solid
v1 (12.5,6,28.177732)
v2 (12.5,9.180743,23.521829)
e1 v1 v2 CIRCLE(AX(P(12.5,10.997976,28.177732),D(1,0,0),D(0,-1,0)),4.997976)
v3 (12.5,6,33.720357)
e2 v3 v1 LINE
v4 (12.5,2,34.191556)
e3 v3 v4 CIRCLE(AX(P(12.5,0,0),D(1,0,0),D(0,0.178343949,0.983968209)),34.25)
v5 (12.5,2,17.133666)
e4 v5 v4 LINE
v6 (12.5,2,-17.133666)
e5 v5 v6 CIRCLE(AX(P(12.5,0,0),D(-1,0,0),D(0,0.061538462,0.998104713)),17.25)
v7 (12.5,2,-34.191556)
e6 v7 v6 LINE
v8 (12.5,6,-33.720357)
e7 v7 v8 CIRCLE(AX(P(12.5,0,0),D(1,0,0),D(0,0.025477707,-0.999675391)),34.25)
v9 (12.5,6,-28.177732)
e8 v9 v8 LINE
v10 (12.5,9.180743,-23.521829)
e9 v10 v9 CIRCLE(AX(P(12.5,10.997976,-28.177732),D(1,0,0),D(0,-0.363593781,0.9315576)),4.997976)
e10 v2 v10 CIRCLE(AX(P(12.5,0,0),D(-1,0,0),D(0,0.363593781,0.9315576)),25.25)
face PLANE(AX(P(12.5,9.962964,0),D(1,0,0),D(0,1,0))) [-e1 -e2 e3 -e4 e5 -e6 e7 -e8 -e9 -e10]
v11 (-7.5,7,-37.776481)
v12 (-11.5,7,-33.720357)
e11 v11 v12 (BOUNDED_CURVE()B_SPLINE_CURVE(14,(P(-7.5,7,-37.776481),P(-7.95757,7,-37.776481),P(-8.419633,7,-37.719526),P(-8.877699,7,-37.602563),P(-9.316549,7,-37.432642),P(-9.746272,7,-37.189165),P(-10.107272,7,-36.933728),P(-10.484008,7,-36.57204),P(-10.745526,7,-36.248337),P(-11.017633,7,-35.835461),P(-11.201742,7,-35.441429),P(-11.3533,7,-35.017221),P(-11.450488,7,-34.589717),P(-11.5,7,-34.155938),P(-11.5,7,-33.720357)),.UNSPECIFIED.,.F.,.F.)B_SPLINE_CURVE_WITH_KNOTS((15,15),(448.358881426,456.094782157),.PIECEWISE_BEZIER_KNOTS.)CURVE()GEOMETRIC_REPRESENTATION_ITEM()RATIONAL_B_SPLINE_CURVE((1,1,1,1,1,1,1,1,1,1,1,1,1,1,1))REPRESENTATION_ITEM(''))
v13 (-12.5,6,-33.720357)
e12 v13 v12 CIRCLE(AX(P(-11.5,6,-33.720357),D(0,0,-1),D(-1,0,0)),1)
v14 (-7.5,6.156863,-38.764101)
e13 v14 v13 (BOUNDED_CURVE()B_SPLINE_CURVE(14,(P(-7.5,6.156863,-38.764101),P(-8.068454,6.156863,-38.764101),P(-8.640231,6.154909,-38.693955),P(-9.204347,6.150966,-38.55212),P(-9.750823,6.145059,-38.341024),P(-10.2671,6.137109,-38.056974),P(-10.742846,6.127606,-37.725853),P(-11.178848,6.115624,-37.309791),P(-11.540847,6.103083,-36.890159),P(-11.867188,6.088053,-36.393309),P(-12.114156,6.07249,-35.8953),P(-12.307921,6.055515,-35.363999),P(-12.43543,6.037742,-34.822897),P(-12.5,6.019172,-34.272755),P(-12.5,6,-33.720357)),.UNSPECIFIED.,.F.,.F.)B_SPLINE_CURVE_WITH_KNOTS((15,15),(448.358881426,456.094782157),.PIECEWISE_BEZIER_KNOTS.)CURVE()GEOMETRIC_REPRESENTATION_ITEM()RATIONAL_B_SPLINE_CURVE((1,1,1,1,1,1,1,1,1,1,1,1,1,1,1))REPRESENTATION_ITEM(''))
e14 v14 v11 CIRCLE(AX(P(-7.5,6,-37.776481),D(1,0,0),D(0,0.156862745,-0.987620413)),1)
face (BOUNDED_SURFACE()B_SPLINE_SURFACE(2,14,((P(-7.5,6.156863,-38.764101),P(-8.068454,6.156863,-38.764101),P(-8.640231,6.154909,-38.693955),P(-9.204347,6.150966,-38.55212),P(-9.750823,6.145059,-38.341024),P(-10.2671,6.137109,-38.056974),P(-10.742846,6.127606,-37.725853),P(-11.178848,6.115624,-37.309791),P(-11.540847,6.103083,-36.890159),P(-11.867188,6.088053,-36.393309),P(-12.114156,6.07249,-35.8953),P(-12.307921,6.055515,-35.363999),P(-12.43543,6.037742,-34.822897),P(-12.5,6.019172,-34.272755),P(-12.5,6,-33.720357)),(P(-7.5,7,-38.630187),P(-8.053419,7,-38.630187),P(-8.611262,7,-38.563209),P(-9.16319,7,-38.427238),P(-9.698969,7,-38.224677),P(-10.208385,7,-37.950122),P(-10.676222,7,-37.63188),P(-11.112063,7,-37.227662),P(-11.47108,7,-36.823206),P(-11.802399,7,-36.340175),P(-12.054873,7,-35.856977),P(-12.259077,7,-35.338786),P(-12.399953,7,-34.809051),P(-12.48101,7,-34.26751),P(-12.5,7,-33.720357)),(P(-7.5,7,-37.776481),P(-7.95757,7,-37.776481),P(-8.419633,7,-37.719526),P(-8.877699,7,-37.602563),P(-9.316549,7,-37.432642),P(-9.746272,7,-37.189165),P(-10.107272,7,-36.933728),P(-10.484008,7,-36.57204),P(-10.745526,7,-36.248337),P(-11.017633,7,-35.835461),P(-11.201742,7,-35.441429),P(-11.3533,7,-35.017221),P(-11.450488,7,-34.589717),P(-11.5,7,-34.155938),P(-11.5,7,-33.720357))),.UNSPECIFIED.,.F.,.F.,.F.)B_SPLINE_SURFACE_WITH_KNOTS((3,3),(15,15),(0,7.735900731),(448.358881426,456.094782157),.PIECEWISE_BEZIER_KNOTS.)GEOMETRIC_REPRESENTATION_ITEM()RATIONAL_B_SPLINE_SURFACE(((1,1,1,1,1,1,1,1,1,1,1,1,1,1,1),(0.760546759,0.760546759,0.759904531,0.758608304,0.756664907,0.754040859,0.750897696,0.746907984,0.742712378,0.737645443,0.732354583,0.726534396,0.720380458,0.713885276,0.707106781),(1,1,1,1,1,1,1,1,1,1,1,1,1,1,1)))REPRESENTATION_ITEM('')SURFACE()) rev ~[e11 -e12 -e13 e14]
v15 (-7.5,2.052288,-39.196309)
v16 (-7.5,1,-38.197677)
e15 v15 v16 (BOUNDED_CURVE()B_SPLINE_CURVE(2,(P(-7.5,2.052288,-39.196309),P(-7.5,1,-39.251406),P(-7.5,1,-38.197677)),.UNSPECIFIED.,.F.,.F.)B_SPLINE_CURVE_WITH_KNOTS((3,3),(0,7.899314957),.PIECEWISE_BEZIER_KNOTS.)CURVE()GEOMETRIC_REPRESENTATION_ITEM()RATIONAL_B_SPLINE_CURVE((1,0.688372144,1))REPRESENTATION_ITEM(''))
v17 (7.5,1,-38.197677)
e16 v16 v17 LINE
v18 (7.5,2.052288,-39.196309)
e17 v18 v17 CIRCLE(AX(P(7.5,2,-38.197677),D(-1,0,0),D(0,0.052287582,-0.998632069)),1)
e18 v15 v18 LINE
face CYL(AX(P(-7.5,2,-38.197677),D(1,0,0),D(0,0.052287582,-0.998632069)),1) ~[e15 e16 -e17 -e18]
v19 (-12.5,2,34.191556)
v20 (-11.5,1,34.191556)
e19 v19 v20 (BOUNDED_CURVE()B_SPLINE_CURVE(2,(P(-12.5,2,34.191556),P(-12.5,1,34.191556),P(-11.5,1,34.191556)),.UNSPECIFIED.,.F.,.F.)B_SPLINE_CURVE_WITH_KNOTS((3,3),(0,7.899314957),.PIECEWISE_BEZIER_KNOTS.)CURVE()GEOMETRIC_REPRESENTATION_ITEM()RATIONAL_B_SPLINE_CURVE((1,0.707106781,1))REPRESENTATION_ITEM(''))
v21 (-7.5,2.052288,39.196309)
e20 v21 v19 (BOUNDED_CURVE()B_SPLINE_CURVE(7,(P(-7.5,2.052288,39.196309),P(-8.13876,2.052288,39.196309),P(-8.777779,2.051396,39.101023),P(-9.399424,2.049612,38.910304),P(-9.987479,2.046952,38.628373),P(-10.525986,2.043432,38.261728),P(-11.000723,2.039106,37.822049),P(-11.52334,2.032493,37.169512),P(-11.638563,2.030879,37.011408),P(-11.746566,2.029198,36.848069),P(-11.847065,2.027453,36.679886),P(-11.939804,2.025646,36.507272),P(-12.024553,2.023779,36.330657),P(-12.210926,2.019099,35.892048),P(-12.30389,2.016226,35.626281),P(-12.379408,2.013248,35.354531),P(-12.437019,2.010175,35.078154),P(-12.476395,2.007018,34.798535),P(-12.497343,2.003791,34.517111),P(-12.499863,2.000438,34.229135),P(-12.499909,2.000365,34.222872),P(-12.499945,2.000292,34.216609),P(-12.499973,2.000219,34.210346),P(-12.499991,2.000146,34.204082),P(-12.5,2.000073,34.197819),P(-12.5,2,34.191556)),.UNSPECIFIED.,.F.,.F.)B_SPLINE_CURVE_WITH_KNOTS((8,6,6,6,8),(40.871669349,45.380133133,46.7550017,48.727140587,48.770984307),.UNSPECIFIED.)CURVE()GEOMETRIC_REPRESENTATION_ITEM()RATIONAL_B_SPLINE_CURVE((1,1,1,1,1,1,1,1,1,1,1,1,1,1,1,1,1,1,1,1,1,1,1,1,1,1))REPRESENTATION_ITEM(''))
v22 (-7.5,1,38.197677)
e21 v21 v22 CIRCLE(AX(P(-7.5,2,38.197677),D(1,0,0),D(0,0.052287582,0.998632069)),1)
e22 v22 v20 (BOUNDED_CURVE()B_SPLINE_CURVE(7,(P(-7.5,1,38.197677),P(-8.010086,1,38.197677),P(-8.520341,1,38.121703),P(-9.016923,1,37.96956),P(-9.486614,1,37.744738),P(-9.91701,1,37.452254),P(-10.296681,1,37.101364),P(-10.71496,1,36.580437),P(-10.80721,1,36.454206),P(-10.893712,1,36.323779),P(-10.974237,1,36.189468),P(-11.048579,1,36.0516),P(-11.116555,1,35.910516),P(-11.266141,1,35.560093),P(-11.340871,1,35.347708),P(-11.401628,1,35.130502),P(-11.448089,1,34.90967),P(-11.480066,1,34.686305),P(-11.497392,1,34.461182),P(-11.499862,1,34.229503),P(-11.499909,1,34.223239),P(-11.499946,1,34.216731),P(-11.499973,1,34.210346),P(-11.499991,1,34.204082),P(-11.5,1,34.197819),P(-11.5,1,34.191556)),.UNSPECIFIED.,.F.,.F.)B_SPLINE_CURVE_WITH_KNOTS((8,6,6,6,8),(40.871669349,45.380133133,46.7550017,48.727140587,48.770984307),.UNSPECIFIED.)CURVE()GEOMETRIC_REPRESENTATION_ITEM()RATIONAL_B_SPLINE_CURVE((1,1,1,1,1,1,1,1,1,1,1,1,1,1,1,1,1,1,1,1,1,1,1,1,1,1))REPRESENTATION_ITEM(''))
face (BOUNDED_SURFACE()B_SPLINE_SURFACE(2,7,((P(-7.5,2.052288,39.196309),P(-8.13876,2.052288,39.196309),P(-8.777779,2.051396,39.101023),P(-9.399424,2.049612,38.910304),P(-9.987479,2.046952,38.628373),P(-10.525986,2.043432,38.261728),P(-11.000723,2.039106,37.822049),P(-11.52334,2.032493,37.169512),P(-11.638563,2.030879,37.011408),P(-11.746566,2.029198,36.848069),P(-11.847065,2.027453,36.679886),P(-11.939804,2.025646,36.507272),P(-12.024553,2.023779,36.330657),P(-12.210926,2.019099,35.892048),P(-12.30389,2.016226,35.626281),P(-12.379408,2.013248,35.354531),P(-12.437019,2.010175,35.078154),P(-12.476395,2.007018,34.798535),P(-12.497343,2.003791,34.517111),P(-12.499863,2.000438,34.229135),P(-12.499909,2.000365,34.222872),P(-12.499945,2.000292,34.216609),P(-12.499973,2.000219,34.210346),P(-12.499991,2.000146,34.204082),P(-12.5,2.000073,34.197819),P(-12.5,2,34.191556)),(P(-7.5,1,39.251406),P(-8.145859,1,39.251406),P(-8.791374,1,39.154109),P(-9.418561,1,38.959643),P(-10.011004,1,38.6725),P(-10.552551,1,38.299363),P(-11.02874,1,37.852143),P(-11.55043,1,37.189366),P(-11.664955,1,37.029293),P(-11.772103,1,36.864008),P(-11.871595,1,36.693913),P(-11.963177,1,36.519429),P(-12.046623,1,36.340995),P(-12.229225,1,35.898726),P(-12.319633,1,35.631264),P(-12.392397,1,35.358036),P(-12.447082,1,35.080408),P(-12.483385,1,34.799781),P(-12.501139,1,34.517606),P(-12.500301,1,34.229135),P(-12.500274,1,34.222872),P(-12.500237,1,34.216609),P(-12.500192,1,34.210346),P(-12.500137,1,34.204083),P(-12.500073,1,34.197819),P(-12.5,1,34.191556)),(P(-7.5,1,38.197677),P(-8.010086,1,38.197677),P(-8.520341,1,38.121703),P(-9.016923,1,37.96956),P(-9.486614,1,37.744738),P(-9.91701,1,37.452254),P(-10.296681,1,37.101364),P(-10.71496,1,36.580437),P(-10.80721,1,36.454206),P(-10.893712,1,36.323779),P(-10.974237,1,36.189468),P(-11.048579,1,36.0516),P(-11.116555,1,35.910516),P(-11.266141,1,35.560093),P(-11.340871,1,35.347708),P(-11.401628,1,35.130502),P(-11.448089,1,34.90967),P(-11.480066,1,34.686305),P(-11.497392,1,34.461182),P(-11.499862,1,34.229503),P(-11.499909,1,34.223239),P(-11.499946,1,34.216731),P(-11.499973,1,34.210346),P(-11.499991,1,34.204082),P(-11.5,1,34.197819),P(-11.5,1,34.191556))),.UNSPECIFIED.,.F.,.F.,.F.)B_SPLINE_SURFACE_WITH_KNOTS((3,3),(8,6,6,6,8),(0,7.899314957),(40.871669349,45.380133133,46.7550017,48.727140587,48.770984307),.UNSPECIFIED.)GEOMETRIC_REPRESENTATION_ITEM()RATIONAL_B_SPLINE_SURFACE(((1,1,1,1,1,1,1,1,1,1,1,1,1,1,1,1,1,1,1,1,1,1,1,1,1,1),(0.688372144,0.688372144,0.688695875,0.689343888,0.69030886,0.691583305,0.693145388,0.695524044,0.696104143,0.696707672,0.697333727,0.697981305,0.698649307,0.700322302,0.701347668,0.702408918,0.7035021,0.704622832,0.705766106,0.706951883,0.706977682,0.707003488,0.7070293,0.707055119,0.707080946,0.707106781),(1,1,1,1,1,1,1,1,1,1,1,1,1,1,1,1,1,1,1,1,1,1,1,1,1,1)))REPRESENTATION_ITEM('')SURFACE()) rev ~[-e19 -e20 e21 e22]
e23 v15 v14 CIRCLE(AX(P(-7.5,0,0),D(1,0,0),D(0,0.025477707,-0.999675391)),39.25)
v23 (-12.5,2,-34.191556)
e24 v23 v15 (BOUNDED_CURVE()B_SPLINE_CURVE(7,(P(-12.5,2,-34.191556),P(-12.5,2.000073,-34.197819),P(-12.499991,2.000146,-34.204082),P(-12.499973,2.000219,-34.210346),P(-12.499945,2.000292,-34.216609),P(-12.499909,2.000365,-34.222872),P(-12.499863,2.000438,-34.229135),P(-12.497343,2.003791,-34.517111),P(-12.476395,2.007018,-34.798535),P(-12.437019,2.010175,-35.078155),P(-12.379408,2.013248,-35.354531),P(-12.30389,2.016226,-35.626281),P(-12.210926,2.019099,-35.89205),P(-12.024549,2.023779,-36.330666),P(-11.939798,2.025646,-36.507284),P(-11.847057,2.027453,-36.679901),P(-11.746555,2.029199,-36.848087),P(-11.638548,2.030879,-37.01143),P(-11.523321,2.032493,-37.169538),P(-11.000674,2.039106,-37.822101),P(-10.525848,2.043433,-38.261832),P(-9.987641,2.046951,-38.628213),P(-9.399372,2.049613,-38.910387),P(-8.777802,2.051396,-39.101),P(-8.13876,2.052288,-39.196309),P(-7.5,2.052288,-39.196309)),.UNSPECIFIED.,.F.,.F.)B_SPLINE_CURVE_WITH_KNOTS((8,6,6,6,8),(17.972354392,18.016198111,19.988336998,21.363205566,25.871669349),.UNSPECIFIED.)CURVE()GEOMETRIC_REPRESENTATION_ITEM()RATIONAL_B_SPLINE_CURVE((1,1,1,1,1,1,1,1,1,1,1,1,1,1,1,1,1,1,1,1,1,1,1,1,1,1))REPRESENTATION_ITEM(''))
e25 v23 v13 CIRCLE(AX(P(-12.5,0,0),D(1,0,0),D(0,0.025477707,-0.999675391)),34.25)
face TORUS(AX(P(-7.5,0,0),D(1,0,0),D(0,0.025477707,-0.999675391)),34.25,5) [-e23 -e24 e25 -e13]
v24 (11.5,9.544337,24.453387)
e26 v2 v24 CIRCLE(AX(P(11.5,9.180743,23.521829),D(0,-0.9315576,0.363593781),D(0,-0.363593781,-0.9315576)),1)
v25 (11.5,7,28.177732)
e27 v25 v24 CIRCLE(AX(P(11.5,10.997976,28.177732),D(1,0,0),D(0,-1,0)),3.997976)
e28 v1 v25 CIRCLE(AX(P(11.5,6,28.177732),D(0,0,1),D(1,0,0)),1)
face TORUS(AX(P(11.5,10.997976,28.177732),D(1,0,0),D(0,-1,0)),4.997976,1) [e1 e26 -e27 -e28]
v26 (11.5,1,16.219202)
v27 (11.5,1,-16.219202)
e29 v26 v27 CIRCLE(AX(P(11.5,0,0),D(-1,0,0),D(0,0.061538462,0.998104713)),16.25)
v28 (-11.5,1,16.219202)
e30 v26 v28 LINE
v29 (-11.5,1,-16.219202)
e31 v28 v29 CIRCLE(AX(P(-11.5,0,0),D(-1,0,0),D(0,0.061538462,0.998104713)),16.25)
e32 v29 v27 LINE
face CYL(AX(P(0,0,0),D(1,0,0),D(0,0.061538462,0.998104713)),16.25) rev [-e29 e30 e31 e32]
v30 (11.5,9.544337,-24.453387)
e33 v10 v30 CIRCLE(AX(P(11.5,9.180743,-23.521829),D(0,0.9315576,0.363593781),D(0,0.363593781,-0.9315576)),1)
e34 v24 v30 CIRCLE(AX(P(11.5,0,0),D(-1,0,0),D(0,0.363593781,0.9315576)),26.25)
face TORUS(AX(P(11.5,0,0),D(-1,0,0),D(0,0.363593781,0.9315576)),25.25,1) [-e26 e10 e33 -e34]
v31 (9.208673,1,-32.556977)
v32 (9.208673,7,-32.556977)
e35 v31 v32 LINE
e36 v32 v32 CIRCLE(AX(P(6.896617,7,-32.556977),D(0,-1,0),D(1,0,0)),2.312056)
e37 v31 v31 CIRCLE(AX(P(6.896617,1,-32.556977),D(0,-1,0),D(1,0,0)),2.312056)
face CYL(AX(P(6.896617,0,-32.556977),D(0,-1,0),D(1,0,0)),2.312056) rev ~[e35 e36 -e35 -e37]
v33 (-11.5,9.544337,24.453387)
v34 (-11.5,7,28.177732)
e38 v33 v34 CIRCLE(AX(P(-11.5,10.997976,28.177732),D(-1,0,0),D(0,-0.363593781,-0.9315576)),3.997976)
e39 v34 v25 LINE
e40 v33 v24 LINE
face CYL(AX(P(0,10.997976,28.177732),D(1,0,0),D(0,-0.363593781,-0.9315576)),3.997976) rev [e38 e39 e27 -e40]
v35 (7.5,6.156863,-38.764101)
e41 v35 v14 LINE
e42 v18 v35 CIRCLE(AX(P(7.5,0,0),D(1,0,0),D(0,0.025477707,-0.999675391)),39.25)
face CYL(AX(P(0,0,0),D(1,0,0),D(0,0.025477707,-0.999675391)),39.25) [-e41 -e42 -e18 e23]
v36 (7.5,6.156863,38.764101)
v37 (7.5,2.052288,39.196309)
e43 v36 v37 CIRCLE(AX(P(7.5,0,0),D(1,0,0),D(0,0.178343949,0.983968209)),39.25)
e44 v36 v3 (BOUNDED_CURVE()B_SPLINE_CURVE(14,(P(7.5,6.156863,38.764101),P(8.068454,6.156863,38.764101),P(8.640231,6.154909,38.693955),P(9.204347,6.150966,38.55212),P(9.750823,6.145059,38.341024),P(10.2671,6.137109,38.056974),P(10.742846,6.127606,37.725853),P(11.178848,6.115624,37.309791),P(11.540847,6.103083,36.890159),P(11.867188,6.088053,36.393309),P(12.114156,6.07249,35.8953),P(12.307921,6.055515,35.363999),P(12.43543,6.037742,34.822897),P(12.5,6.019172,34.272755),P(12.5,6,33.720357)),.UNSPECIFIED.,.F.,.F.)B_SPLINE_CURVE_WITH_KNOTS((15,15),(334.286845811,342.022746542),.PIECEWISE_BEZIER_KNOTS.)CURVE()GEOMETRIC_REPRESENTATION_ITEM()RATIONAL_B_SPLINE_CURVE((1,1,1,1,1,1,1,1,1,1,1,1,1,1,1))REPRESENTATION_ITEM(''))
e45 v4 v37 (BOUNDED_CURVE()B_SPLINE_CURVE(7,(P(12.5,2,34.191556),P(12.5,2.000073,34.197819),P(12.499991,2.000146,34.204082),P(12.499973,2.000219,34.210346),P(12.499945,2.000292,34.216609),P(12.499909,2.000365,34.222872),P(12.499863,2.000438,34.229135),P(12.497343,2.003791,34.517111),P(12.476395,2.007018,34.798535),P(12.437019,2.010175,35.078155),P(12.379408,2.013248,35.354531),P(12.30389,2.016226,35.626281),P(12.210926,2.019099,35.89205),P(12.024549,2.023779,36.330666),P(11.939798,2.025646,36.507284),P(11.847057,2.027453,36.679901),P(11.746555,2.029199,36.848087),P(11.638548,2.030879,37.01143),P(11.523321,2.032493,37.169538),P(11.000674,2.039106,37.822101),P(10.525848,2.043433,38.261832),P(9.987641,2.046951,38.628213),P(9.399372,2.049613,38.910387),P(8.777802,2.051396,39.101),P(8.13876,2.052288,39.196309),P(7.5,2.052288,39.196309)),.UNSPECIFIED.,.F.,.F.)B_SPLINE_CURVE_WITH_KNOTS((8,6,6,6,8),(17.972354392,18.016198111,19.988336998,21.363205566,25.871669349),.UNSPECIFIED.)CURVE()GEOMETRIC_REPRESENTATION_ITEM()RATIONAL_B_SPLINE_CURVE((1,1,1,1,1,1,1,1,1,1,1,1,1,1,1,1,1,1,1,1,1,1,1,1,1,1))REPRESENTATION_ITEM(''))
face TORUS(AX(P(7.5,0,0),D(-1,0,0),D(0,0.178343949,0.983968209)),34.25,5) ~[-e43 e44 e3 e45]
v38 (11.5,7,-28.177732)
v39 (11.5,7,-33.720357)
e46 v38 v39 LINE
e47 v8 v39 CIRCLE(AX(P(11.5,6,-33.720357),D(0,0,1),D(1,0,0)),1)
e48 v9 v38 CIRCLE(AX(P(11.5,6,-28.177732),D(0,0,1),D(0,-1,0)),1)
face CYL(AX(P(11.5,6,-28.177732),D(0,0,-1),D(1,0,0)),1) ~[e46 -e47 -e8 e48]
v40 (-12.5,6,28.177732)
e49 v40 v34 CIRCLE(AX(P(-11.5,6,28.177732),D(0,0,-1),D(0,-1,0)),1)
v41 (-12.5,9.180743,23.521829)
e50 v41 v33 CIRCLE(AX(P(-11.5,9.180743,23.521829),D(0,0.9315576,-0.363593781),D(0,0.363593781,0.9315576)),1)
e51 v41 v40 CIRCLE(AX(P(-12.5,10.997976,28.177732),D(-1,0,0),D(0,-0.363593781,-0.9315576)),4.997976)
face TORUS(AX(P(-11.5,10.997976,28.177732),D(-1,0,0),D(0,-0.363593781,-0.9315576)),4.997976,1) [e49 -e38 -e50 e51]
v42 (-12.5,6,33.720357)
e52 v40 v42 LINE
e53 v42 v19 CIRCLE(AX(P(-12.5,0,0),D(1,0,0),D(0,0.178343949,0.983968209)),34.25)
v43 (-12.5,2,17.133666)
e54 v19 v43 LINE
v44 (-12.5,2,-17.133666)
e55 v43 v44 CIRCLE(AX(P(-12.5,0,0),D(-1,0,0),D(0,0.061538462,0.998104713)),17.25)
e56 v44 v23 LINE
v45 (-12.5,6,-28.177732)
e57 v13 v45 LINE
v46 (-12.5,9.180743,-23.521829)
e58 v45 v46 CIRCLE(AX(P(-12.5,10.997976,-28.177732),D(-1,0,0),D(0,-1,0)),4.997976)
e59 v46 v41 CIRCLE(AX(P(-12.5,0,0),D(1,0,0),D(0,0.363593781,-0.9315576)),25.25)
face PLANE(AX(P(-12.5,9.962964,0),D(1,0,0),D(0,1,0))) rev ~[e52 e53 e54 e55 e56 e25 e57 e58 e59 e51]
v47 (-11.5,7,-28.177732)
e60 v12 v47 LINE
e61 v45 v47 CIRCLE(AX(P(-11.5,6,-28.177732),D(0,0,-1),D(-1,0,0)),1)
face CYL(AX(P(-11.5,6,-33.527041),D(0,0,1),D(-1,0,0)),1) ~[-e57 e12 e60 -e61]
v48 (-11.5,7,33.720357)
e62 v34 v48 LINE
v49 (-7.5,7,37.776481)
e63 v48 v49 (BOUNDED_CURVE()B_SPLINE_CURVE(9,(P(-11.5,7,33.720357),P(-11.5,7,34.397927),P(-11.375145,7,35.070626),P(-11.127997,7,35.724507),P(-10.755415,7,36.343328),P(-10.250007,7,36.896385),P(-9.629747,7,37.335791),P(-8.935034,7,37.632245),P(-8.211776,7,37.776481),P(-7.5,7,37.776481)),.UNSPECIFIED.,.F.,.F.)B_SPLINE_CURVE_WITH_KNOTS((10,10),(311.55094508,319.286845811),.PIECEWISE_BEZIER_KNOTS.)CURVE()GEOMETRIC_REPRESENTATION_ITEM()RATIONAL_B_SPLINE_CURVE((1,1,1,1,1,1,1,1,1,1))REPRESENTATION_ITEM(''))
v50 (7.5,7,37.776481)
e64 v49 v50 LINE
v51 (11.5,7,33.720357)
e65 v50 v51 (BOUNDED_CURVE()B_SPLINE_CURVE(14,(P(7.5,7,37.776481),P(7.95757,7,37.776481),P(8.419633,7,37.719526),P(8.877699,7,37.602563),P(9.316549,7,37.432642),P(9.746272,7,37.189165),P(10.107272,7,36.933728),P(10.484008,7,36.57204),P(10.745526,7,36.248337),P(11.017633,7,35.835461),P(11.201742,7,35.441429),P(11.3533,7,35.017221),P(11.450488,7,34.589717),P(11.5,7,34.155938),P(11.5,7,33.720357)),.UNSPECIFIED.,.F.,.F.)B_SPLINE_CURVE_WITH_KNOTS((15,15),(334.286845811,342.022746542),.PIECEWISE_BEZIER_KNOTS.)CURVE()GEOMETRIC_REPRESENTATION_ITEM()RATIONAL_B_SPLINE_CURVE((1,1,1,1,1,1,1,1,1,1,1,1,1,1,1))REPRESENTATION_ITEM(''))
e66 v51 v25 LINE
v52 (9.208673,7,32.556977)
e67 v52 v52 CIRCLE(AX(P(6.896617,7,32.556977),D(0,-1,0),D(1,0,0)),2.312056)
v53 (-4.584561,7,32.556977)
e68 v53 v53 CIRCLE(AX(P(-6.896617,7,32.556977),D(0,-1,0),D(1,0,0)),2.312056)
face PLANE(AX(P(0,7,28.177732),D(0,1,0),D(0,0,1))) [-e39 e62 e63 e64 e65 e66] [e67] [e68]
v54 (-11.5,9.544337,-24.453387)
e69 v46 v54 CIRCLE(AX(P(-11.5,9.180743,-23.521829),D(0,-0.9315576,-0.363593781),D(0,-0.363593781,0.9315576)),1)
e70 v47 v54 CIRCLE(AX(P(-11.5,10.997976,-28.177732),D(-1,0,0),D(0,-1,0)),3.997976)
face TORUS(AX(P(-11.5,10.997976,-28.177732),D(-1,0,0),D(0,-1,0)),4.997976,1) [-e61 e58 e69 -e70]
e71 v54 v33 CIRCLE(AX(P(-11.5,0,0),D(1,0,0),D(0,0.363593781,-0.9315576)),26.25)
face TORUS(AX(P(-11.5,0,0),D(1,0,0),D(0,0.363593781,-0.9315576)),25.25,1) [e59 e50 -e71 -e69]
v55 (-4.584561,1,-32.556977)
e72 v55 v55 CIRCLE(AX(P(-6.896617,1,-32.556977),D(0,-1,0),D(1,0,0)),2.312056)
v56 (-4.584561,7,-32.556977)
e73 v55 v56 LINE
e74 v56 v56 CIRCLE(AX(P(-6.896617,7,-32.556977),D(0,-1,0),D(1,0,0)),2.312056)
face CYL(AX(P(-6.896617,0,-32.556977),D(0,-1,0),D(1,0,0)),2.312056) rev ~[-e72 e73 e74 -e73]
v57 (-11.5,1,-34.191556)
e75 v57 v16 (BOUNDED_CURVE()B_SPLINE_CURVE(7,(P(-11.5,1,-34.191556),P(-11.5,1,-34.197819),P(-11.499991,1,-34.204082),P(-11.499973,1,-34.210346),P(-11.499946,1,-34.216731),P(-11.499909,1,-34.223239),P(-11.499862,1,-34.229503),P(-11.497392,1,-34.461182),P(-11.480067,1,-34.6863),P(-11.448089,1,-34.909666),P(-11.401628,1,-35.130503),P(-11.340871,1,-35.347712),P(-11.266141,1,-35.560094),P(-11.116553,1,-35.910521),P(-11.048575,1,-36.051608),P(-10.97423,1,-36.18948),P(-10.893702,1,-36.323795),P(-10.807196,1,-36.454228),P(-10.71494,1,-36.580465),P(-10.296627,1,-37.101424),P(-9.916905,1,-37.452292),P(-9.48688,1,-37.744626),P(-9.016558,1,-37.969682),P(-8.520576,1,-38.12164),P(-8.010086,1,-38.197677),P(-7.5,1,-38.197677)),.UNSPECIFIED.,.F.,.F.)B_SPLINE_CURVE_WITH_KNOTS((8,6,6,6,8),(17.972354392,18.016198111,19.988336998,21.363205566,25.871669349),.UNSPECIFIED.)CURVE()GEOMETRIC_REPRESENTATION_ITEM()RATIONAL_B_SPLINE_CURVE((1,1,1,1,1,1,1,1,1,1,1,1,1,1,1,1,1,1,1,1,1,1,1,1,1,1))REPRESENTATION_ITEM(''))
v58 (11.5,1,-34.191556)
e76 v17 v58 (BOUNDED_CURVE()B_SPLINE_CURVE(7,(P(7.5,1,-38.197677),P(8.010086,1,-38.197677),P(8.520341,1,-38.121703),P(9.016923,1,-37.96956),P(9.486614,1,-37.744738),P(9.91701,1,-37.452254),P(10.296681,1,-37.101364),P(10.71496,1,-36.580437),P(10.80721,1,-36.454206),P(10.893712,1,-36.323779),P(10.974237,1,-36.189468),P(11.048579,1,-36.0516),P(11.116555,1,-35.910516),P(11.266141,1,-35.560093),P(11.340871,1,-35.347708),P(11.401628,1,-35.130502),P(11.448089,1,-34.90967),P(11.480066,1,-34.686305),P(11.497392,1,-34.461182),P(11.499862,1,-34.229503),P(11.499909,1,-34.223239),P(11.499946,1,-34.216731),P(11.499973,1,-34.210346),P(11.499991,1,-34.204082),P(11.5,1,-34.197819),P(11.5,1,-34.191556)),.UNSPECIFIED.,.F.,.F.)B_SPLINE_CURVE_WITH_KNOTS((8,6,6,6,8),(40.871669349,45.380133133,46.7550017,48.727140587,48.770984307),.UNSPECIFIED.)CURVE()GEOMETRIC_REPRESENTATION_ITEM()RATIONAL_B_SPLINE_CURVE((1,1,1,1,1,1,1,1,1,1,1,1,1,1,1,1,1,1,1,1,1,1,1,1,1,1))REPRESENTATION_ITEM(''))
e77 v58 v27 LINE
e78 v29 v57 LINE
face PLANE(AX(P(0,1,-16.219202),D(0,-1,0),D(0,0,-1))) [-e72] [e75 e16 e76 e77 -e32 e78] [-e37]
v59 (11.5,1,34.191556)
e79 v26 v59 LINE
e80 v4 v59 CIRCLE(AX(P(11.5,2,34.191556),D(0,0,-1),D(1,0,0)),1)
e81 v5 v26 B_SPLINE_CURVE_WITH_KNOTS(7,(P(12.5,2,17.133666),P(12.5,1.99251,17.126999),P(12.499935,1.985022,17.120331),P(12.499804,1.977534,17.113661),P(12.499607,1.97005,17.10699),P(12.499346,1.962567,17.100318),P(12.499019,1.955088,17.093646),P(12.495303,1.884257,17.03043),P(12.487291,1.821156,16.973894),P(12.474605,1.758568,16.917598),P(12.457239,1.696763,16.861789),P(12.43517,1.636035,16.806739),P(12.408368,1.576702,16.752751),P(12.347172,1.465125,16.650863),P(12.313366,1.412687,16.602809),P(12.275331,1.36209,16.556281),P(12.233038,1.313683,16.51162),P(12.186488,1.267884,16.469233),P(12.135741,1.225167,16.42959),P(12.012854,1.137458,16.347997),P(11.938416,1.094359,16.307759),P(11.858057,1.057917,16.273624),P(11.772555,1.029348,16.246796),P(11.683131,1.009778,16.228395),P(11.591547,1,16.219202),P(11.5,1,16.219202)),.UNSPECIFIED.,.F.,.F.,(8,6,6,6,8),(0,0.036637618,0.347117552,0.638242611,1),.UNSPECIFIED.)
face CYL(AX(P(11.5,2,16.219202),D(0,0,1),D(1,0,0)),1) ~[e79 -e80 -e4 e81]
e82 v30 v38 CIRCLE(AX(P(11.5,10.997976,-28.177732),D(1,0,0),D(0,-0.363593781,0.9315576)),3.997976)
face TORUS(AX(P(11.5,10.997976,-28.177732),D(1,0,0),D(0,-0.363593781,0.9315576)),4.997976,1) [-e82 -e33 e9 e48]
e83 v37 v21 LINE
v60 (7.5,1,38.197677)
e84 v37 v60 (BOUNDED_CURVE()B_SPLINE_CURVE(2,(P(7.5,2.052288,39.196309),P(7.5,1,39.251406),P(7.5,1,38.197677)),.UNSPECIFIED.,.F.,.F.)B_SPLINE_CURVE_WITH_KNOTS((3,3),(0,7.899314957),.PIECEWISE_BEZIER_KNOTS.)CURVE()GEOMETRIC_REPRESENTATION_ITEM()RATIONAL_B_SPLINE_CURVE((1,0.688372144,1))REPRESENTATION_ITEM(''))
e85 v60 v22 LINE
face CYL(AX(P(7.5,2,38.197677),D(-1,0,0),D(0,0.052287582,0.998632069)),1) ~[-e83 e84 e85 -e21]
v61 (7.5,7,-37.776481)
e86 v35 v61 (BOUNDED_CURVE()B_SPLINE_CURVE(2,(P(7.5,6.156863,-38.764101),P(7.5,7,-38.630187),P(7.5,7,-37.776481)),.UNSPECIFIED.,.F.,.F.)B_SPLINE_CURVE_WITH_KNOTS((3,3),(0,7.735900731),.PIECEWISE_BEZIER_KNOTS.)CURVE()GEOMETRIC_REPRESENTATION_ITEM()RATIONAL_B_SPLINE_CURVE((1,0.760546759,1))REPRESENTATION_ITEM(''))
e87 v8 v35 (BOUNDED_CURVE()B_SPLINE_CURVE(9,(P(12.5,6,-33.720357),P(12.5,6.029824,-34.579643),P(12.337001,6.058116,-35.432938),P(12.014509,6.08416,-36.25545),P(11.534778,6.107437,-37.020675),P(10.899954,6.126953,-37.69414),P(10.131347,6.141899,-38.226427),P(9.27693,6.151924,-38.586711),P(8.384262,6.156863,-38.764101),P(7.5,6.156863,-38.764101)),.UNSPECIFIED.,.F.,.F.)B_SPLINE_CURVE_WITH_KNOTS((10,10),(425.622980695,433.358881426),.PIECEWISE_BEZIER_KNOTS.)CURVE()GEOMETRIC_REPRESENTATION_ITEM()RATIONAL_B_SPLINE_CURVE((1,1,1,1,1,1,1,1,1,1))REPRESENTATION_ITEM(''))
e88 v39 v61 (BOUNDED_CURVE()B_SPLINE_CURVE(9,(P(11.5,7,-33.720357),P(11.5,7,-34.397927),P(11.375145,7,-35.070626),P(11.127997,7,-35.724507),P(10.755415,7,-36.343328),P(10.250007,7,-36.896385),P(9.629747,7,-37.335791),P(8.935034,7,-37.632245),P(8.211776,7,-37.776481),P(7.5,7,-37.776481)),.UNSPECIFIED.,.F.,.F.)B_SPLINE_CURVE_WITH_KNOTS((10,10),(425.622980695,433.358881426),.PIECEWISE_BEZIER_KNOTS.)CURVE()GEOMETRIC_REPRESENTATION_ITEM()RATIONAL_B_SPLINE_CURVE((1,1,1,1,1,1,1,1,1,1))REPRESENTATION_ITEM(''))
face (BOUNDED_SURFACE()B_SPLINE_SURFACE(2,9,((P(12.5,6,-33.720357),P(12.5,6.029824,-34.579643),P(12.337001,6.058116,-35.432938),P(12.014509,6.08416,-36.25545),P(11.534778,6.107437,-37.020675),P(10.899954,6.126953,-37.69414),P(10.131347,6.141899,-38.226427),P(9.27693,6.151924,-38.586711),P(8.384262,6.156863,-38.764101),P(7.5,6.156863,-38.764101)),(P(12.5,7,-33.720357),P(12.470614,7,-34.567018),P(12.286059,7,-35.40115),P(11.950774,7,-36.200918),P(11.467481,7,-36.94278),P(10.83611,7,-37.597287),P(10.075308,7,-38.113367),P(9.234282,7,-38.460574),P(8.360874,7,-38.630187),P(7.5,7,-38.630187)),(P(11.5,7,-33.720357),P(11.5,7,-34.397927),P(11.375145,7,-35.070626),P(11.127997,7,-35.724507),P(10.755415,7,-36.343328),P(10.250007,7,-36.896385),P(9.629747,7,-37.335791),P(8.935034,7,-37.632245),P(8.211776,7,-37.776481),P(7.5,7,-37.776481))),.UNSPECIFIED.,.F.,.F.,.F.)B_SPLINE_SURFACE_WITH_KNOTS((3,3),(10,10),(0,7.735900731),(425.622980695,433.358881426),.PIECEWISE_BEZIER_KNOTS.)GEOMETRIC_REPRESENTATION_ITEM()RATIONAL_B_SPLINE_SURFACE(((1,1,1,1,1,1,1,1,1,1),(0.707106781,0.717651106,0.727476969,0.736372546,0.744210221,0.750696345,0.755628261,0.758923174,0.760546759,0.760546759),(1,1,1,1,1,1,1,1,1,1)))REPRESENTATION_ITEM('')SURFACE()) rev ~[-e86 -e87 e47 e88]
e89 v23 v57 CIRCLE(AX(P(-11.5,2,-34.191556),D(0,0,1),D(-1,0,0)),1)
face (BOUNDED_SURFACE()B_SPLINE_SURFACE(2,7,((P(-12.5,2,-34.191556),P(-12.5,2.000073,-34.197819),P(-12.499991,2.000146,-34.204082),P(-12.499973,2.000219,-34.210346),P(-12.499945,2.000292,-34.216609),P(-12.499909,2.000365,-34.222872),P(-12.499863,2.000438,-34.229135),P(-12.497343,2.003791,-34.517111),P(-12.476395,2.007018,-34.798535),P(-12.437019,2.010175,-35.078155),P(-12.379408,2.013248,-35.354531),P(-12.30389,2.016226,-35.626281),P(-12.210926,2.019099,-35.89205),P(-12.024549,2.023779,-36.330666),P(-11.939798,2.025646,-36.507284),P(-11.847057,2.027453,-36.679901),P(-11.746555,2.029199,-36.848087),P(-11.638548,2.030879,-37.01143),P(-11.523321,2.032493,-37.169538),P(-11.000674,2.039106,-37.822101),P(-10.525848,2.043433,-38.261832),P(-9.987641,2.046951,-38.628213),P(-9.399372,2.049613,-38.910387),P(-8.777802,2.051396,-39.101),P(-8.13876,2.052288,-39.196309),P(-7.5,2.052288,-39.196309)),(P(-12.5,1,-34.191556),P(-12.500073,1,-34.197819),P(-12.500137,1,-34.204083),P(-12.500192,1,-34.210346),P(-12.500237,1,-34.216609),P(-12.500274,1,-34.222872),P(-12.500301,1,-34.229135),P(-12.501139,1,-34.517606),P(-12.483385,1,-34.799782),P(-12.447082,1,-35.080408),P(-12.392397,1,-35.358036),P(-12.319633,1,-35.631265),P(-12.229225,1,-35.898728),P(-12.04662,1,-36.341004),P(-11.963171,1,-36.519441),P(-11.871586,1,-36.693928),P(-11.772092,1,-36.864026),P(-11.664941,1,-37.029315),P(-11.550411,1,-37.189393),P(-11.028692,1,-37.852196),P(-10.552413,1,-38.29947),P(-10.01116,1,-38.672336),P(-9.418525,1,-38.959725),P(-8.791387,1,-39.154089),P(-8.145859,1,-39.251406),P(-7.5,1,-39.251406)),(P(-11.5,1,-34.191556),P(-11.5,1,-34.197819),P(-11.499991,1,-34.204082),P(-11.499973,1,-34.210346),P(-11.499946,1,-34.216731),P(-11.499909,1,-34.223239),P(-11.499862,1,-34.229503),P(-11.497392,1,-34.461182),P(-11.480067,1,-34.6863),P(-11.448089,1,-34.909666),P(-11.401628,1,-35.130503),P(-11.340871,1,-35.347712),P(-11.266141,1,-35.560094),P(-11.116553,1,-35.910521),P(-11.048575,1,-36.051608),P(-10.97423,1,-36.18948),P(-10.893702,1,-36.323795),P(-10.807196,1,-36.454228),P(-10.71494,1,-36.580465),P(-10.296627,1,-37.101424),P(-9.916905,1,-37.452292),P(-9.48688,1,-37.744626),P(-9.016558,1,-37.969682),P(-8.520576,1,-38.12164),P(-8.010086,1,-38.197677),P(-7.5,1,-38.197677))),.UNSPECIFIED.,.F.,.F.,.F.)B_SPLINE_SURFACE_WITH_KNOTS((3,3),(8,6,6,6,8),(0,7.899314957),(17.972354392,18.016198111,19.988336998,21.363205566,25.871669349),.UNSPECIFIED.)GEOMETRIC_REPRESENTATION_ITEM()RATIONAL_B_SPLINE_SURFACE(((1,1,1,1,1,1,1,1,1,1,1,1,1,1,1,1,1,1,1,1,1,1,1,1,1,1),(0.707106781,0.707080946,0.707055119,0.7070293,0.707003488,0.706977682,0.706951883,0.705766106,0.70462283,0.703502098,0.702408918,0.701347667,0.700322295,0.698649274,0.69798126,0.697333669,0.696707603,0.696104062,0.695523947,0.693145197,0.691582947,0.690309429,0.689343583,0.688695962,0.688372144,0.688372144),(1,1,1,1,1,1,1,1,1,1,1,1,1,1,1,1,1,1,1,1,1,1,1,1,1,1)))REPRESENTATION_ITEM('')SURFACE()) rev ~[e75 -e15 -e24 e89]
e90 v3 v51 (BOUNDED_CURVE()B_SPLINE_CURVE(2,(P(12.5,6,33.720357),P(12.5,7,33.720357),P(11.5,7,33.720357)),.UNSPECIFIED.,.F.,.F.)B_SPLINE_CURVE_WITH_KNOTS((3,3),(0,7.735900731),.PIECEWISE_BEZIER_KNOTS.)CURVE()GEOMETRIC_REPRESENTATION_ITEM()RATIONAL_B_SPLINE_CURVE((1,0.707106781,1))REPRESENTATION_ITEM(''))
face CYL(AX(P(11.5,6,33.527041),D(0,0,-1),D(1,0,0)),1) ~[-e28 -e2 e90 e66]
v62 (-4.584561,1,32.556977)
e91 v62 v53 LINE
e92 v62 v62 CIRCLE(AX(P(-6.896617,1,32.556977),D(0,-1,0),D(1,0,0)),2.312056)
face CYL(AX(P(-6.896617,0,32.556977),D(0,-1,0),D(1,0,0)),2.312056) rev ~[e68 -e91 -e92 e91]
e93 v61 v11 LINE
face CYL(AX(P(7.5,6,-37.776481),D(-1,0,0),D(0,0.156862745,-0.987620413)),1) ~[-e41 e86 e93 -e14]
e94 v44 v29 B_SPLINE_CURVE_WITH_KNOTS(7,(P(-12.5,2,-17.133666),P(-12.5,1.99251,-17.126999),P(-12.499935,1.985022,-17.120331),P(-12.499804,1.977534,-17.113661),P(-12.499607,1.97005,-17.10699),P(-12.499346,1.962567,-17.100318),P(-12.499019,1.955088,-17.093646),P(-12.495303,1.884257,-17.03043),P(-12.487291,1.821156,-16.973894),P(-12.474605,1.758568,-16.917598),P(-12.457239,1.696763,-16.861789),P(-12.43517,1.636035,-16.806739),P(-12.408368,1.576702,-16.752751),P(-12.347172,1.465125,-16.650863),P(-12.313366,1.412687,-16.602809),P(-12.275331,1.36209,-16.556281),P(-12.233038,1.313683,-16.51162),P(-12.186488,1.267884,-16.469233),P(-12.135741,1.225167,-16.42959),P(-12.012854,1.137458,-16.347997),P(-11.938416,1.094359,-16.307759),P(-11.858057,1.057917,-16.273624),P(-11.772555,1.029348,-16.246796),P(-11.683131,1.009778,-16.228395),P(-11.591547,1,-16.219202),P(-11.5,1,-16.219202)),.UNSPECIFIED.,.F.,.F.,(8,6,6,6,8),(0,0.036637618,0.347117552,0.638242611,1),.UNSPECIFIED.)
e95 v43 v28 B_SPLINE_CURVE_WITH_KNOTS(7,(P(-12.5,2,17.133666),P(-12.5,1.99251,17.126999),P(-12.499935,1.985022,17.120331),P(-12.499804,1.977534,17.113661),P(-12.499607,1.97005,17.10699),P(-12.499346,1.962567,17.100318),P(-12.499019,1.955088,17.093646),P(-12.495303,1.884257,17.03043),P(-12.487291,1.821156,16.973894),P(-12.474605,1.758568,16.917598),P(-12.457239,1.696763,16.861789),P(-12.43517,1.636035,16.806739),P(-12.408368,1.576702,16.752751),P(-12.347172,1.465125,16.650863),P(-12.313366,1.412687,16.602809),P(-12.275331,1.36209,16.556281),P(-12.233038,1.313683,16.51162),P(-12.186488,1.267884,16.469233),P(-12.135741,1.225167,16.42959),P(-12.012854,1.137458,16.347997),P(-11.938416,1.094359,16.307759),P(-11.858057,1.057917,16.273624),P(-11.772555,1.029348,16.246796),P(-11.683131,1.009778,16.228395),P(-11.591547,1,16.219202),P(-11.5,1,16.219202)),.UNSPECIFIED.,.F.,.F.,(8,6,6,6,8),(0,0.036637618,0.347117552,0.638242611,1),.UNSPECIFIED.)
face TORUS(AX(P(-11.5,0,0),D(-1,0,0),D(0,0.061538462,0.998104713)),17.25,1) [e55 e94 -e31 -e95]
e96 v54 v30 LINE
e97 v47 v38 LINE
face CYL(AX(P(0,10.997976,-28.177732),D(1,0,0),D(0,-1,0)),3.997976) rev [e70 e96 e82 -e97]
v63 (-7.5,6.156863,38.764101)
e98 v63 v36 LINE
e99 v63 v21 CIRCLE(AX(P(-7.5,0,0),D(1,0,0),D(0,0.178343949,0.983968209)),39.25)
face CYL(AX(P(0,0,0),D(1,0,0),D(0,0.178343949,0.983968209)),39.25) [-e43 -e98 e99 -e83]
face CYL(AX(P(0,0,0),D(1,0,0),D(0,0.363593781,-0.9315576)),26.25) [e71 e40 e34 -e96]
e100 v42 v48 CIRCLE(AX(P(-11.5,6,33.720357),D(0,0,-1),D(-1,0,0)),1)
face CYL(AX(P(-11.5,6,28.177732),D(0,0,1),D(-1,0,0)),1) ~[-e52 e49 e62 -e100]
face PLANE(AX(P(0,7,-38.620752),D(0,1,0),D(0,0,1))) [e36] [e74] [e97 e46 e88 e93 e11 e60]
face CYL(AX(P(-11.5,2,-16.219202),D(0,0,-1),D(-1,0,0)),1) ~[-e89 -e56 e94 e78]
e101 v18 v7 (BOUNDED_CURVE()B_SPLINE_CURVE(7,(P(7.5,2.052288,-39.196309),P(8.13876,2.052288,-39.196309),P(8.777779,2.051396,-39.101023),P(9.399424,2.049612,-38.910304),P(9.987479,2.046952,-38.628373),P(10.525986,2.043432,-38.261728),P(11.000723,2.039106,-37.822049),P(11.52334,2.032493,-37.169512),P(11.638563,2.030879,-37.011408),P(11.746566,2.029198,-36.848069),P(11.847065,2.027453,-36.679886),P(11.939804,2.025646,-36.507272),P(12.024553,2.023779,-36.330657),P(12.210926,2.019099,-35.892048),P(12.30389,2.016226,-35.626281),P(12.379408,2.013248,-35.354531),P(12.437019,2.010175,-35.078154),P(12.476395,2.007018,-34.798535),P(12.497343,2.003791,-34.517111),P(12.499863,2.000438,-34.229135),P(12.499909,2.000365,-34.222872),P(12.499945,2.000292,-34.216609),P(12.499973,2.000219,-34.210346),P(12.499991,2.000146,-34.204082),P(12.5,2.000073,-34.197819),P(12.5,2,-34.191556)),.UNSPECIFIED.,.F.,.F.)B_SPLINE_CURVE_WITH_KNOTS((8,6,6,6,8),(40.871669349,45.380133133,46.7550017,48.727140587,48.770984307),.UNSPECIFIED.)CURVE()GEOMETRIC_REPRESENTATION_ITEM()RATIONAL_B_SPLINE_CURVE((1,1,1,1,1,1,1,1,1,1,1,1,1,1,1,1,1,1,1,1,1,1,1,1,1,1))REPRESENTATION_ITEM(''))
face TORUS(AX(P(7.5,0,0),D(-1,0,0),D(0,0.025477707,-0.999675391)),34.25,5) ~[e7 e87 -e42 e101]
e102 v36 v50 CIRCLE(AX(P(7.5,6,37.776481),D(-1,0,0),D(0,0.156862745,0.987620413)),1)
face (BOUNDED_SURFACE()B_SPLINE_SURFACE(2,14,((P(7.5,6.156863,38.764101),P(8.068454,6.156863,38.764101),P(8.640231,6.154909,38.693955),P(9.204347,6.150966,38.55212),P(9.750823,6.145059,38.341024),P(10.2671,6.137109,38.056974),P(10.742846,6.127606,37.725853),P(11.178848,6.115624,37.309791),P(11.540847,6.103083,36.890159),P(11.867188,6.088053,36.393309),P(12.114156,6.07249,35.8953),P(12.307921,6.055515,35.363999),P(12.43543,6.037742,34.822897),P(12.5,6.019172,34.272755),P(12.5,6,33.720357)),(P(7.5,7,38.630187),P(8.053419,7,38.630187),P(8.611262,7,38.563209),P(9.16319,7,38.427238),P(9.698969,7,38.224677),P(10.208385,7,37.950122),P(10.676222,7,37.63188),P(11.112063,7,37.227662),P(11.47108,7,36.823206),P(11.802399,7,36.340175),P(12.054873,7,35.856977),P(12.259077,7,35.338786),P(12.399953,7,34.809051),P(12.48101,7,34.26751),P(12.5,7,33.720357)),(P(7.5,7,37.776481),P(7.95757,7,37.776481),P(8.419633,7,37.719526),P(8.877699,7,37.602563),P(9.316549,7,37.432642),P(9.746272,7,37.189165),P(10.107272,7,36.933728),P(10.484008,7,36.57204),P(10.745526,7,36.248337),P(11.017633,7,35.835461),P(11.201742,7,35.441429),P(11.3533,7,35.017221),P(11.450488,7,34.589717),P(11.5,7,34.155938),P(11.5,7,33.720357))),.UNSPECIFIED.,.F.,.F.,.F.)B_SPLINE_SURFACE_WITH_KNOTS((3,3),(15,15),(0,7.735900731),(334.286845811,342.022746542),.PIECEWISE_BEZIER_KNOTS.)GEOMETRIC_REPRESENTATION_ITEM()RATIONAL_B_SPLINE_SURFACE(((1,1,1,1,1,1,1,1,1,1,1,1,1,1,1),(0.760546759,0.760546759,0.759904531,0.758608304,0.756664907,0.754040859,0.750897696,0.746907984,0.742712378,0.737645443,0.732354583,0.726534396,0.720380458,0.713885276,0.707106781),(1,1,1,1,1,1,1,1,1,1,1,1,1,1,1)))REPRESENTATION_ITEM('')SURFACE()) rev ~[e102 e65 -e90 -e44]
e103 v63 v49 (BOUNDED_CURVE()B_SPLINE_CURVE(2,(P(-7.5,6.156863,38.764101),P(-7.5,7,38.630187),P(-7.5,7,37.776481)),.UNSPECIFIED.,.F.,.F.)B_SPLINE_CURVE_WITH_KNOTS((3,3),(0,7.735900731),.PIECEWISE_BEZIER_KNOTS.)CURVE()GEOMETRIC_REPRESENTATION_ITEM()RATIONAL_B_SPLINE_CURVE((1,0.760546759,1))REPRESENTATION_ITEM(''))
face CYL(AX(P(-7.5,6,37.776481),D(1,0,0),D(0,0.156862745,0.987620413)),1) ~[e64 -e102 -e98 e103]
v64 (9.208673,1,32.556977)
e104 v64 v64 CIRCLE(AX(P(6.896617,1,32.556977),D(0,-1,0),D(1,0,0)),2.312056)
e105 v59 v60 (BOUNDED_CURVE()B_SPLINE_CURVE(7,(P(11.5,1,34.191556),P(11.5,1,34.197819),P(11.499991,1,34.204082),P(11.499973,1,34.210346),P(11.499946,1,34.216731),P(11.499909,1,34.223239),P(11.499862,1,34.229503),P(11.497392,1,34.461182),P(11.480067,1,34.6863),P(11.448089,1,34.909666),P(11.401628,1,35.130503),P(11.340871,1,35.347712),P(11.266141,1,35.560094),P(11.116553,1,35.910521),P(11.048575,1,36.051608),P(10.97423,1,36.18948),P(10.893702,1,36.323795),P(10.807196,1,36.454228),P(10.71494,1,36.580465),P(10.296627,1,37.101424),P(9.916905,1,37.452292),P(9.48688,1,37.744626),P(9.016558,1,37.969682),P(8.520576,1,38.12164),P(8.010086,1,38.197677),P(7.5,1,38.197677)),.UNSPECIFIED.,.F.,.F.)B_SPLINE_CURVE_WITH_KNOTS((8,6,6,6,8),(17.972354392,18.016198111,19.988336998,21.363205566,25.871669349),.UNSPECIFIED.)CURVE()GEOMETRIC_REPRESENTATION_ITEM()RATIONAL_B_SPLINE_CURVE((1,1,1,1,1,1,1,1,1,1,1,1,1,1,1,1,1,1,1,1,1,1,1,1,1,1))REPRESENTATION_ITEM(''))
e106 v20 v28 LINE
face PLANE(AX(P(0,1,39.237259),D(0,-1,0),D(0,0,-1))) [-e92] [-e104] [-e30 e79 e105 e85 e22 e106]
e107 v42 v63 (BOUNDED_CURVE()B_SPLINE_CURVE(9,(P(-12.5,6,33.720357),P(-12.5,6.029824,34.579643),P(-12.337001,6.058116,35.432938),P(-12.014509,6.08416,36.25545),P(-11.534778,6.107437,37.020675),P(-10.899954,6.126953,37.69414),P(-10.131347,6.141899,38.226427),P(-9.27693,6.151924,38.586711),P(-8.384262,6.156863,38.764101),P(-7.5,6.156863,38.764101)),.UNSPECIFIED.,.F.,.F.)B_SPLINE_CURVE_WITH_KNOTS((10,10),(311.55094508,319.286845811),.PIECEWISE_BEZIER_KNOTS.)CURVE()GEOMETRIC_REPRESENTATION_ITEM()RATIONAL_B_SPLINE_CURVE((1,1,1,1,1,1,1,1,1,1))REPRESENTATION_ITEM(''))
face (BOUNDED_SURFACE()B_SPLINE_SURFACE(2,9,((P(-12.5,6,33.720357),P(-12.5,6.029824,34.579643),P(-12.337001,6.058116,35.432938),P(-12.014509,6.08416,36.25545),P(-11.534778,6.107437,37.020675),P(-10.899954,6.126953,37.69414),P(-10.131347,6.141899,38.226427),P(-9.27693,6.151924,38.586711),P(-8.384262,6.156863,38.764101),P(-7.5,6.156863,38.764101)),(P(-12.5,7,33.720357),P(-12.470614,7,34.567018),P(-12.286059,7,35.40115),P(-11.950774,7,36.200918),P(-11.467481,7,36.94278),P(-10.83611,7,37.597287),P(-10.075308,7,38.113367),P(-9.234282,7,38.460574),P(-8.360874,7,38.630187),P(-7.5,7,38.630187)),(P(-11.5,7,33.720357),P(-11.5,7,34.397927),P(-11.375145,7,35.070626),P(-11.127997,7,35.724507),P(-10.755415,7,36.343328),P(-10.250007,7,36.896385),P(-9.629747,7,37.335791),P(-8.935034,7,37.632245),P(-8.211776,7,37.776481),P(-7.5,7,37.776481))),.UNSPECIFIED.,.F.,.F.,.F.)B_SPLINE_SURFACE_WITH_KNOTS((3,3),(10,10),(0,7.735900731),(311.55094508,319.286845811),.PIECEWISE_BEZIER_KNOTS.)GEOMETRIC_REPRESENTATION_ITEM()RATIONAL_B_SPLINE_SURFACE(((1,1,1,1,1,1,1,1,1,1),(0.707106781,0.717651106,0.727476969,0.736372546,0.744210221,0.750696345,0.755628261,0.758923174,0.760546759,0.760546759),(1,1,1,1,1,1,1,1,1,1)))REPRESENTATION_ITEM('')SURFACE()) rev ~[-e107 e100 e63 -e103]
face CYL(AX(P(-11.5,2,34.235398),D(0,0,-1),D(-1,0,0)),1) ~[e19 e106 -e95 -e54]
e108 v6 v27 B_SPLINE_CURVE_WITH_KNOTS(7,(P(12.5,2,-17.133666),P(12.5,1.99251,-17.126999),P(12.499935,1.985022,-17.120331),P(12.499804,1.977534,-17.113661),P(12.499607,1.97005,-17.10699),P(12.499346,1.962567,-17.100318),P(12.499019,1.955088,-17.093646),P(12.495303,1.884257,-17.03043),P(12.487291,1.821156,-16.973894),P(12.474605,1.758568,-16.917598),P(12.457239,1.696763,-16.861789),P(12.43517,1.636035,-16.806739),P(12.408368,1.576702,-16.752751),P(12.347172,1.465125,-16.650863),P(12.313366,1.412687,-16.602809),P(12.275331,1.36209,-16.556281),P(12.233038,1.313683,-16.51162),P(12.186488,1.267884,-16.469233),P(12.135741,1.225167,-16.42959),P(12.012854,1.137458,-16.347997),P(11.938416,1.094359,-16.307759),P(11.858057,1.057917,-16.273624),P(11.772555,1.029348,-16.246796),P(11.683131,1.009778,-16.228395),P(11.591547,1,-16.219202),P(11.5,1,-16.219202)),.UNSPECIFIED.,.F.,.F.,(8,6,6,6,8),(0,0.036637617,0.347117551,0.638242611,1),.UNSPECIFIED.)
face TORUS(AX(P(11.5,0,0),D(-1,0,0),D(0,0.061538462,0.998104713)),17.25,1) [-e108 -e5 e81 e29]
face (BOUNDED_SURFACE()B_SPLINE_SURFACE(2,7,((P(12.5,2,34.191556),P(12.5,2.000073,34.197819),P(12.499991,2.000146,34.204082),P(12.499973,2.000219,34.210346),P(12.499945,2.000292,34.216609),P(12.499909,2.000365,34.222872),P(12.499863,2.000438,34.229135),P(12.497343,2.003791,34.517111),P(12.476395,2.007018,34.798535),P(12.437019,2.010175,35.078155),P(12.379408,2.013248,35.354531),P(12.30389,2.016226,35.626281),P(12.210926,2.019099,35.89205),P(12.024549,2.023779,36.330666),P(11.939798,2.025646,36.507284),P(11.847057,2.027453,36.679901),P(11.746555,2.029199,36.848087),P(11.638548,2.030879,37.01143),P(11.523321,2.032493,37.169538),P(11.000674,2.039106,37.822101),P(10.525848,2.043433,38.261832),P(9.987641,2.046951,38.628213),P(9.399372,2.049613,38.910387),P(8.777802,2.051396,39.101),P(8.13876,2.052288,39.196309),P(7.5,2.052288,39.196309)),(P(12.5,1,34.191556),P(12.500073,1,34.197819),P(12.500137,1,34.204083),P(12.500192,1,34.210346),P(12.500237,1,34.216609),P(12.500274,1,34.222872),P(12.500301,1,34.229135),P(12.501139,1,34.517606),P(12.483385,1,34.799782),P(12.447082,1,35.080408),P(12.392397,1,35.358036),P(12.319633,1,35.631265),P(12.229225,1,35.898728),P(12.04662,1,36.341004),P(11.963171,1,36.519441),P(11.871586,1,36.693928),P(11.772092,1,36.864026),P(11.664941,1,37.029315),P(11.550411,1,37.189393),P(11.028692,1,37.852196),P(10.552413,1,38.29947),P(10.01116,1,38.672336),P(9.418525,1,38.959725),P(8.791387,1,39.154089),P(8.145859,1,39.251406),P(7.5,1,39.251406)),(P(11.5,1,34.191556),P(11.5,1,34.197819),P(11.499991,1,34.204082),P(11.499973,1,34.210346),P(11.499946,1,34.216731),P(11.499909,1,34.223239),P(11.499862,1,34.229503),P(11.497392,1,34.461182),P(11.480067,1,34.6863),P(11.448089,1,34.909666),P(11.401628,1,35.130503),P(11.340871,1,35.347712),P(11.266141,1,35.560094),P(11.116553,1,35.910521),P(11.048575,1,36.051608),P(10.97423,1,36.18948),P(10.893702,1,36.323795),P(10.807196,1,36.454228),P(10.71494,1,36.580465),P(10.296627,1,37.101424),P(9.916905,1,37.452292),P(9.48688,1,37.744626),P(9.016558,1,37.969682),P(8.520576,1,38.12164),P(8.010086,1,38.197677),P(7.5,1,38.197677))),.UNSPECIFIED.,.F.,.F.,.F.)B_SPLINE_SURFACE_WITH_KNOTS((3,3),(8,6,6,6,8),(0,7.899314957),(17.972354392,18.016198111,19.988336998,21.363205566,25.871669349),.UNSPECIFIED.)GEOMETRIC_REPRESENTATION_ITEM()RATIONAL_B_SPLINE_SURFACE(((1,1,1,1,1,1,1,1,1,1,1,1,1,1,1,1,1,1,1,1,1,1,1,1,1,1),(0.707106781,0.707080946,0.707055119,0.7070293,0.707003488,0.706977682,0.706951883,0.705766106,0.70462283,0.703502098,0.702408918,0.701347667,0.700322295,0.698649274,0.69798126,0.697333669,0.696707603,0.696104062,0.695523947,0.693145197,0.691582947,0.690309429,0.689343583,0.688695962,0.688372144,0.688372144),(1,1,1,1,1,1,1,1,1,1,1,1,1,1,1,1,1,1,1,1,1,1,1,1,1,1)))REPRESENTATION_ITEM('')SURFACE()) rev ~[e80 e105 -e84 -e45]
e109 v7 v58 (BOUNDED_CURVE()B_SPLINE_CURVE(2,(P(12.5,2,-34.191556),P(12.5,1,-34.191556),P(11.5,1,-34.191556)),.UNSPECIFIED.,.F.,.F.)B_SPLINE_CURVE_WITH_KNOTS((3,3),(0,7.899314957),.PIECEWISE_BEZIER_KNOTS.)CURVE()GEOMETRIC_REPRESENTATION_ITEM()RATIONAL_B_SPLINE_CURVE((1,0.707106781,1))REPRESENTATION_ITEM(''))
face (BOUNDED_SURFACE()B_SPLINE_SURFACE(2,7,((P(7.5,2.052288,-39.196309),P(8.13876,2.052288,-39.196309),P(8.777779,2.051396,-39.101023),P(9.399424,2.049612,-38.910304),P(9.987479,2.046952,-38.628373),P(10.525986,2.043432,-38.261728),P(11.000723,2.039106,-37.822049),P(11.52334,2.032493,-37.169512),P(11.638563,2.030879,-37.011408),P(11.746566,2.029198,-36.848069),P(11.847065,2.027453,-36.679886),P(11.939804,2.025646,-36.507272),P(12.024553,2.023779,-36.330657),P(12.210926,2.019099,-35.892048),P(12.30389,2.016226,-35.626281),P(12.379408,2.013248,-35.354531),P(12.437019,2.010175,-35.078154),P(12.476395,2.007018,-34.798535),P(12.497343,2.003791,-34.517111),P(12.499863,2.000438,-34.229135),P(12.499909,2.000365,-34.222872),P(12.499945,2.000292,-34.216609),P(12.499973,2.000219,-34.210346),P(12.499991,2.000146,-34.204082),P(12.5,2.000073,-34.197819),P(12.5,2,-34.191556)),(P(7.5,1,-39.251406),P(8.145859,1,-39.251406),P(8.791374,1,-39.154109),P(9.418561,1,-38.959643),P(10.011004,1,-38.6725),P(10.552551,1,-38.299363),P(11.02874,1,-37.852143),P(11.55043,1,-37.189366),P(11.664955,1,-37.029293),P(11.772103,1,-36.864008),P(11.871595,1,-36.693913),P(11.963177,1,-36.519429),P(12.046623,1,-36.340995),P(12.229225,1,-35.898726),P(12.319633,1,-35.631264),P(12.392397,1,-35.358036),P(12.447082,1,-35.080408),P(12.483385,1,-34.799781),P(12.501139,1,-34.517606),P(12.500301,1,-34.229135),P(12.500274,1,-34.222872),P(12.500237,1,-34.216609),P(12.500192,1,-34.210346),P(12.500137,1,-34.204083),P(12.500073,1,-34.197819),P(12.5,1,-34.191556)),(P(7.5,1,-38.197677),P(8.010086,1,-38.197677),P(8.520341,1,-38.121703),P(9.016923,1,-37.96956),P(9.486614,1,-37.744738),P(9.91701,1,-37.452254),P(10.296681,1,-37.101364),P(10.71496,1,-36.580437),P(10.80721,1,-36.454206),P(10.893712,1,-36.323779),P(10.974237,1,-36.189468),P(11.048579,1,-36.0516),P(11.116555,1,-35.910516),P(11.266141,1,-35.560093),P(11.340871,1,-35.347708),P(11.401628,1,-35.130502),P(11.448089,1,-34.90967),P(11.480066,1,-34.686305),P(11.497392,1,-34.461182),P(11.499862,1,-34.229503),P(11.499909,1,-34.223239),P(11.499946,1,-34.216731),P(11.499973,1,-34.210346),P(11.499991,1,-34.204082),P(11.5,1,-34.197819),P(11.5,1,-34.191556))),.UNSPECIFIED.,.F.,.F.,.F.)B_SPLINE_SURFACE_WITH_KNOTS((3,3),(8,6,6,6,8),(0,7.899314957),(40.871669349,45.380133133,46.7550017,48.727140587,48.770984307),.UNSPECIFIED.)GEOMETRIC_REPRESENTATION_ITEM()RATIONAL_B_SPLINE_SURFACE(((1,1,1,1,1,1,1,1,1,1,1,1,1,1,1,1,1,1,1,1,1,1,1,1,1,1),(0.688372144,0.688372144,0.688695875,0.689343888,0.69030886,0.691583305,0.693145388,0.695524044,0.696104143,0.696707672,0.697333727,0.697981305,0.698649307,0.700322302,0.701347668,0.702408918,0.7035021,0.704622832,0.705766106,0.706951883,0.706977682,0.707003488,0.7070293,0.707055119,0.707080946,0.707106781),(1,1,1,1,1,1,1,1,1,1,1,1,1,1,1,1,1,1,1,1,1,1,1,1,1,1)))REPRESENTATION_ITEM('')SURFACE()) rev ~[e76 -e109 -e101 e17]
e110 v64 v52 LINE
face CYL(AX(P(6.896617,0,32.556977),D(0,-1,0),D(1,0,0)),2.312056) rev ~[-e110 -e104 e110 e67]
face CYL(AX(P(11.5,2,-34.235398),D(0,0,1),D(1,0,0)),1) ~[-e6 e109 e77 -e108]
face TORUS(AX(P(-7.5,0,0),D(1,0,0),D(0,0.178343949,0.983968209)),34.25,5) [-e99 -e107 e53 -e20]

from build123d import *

# Parameters (mm, degrees)
F1_DEPTH = 12.5
F2_R     = 2.3120560343
F3_DEPTH = 26.251
F4_R     = 5
F5_R     = 1


with BuildPart() as f1:
    # F0 (on Right) → F1 (new body, symmetric)
    with BuildSketch(Plane.YZ):
        with BuildLine():
            ThreePointArc((1, 16.2192015833), (16.25, 0), (1, -16.2192015833))
            Line((1, -16.2192015833), (1, -39.2372590786))
            ThreePointArc((1, -39.2372590786), (4.0118599408, -39.0444295619), (7, -38.6207521936))
            Line((7, -38.6207521936), (7, -28.1777318701))
            ThreePointArc((7, -28.1777318701), (7.6968075003, -25.9224938479), (9.5443367466, -24.453387006))
            ThreePointArc((9.5443367466, -24.453387006), (26.25, 0), (9.5443367466, 24.453387006))
            ThreePointArc((9.5443367466, 24.453387006), (7.6968075003, 25.9224938479), (7, 28.1777318701))
            Line((7, 28.1777318701), (7, 38.6207521936))
            ThreePointArc((7, 38.6207521936), (4.0118599408, 39.0444295619), (1, 39.2372590786))
            Line((1, 39.2372590786), (1, 16.2192015833))
        make_face()
    extrude(amount=F1_DEPTH, both=True)

    # F2 (on Front) → F3 (cut, through all)
    with BuildSketch(Plane.XZ):
        with Locations((6.896616891, 32.556977123)):
            Circle(F2_R)
        with Locations((-6.896616891, 32.556977123)):
            Circle(F2_R)
        with Locations((-6.896616891, -32.556977123)):
            Circle(F2_R)
        with Locations((6.896616891, -32.556977123)):
            Circle(F2_R)
    extrude(amount=-F3_DEPTH, mode=Mode.SUBTRACT)

    # F4
    f4_edges = [f1.edges().sort_by_distance(p)[0] for p in [
        (12.5, 4.01186, 39.04443),
        (-12.5, 4.01186, 39.04443),
        (12.5, 4.01186, -39.04443),
        (-12.5, 4.01186, -39.04443),
    ]]
    fillet(f4_edges, radius=F4_R)

    # F5
    f5_edges = [f1.edges().sort_by_distance(p)[0] for p in [
        (-12.5, 1, -25.2273),
        (-12.5, 4.01565, -34.013777),
        (-12.5, 16.25, 0),
        (-12.5, 7, -30.852387),
        (-12.5, 1, 25.2273),
        (-12.5, 7.696808, -25.922494),
        (-12.5, 4.01565, 34.013777),
        (-12.5, 26.25, 0),
        (-12.5, 7, 30.852387),
        (-12.5, 7.696808, 25.922494),
        (12.5, 1, -25.2273),
        (12.5, 4.01565, -34.013777),
        (12.5, 16.25, 0),
        (12.5, 7, -30.852387),
        (12.5, 1, 25.2273),
        (12.5, 7.696808, -25.922494),
        (12.5, 4.01565, 34.013777),
        (12.5, 26.25, 0),
        (12.5, 7, 30.852387),
        (12.5, 7.696808, 25.922494),
    ]]
    fillet(f5_edges, radius=F5_R)


solid = f1.part
